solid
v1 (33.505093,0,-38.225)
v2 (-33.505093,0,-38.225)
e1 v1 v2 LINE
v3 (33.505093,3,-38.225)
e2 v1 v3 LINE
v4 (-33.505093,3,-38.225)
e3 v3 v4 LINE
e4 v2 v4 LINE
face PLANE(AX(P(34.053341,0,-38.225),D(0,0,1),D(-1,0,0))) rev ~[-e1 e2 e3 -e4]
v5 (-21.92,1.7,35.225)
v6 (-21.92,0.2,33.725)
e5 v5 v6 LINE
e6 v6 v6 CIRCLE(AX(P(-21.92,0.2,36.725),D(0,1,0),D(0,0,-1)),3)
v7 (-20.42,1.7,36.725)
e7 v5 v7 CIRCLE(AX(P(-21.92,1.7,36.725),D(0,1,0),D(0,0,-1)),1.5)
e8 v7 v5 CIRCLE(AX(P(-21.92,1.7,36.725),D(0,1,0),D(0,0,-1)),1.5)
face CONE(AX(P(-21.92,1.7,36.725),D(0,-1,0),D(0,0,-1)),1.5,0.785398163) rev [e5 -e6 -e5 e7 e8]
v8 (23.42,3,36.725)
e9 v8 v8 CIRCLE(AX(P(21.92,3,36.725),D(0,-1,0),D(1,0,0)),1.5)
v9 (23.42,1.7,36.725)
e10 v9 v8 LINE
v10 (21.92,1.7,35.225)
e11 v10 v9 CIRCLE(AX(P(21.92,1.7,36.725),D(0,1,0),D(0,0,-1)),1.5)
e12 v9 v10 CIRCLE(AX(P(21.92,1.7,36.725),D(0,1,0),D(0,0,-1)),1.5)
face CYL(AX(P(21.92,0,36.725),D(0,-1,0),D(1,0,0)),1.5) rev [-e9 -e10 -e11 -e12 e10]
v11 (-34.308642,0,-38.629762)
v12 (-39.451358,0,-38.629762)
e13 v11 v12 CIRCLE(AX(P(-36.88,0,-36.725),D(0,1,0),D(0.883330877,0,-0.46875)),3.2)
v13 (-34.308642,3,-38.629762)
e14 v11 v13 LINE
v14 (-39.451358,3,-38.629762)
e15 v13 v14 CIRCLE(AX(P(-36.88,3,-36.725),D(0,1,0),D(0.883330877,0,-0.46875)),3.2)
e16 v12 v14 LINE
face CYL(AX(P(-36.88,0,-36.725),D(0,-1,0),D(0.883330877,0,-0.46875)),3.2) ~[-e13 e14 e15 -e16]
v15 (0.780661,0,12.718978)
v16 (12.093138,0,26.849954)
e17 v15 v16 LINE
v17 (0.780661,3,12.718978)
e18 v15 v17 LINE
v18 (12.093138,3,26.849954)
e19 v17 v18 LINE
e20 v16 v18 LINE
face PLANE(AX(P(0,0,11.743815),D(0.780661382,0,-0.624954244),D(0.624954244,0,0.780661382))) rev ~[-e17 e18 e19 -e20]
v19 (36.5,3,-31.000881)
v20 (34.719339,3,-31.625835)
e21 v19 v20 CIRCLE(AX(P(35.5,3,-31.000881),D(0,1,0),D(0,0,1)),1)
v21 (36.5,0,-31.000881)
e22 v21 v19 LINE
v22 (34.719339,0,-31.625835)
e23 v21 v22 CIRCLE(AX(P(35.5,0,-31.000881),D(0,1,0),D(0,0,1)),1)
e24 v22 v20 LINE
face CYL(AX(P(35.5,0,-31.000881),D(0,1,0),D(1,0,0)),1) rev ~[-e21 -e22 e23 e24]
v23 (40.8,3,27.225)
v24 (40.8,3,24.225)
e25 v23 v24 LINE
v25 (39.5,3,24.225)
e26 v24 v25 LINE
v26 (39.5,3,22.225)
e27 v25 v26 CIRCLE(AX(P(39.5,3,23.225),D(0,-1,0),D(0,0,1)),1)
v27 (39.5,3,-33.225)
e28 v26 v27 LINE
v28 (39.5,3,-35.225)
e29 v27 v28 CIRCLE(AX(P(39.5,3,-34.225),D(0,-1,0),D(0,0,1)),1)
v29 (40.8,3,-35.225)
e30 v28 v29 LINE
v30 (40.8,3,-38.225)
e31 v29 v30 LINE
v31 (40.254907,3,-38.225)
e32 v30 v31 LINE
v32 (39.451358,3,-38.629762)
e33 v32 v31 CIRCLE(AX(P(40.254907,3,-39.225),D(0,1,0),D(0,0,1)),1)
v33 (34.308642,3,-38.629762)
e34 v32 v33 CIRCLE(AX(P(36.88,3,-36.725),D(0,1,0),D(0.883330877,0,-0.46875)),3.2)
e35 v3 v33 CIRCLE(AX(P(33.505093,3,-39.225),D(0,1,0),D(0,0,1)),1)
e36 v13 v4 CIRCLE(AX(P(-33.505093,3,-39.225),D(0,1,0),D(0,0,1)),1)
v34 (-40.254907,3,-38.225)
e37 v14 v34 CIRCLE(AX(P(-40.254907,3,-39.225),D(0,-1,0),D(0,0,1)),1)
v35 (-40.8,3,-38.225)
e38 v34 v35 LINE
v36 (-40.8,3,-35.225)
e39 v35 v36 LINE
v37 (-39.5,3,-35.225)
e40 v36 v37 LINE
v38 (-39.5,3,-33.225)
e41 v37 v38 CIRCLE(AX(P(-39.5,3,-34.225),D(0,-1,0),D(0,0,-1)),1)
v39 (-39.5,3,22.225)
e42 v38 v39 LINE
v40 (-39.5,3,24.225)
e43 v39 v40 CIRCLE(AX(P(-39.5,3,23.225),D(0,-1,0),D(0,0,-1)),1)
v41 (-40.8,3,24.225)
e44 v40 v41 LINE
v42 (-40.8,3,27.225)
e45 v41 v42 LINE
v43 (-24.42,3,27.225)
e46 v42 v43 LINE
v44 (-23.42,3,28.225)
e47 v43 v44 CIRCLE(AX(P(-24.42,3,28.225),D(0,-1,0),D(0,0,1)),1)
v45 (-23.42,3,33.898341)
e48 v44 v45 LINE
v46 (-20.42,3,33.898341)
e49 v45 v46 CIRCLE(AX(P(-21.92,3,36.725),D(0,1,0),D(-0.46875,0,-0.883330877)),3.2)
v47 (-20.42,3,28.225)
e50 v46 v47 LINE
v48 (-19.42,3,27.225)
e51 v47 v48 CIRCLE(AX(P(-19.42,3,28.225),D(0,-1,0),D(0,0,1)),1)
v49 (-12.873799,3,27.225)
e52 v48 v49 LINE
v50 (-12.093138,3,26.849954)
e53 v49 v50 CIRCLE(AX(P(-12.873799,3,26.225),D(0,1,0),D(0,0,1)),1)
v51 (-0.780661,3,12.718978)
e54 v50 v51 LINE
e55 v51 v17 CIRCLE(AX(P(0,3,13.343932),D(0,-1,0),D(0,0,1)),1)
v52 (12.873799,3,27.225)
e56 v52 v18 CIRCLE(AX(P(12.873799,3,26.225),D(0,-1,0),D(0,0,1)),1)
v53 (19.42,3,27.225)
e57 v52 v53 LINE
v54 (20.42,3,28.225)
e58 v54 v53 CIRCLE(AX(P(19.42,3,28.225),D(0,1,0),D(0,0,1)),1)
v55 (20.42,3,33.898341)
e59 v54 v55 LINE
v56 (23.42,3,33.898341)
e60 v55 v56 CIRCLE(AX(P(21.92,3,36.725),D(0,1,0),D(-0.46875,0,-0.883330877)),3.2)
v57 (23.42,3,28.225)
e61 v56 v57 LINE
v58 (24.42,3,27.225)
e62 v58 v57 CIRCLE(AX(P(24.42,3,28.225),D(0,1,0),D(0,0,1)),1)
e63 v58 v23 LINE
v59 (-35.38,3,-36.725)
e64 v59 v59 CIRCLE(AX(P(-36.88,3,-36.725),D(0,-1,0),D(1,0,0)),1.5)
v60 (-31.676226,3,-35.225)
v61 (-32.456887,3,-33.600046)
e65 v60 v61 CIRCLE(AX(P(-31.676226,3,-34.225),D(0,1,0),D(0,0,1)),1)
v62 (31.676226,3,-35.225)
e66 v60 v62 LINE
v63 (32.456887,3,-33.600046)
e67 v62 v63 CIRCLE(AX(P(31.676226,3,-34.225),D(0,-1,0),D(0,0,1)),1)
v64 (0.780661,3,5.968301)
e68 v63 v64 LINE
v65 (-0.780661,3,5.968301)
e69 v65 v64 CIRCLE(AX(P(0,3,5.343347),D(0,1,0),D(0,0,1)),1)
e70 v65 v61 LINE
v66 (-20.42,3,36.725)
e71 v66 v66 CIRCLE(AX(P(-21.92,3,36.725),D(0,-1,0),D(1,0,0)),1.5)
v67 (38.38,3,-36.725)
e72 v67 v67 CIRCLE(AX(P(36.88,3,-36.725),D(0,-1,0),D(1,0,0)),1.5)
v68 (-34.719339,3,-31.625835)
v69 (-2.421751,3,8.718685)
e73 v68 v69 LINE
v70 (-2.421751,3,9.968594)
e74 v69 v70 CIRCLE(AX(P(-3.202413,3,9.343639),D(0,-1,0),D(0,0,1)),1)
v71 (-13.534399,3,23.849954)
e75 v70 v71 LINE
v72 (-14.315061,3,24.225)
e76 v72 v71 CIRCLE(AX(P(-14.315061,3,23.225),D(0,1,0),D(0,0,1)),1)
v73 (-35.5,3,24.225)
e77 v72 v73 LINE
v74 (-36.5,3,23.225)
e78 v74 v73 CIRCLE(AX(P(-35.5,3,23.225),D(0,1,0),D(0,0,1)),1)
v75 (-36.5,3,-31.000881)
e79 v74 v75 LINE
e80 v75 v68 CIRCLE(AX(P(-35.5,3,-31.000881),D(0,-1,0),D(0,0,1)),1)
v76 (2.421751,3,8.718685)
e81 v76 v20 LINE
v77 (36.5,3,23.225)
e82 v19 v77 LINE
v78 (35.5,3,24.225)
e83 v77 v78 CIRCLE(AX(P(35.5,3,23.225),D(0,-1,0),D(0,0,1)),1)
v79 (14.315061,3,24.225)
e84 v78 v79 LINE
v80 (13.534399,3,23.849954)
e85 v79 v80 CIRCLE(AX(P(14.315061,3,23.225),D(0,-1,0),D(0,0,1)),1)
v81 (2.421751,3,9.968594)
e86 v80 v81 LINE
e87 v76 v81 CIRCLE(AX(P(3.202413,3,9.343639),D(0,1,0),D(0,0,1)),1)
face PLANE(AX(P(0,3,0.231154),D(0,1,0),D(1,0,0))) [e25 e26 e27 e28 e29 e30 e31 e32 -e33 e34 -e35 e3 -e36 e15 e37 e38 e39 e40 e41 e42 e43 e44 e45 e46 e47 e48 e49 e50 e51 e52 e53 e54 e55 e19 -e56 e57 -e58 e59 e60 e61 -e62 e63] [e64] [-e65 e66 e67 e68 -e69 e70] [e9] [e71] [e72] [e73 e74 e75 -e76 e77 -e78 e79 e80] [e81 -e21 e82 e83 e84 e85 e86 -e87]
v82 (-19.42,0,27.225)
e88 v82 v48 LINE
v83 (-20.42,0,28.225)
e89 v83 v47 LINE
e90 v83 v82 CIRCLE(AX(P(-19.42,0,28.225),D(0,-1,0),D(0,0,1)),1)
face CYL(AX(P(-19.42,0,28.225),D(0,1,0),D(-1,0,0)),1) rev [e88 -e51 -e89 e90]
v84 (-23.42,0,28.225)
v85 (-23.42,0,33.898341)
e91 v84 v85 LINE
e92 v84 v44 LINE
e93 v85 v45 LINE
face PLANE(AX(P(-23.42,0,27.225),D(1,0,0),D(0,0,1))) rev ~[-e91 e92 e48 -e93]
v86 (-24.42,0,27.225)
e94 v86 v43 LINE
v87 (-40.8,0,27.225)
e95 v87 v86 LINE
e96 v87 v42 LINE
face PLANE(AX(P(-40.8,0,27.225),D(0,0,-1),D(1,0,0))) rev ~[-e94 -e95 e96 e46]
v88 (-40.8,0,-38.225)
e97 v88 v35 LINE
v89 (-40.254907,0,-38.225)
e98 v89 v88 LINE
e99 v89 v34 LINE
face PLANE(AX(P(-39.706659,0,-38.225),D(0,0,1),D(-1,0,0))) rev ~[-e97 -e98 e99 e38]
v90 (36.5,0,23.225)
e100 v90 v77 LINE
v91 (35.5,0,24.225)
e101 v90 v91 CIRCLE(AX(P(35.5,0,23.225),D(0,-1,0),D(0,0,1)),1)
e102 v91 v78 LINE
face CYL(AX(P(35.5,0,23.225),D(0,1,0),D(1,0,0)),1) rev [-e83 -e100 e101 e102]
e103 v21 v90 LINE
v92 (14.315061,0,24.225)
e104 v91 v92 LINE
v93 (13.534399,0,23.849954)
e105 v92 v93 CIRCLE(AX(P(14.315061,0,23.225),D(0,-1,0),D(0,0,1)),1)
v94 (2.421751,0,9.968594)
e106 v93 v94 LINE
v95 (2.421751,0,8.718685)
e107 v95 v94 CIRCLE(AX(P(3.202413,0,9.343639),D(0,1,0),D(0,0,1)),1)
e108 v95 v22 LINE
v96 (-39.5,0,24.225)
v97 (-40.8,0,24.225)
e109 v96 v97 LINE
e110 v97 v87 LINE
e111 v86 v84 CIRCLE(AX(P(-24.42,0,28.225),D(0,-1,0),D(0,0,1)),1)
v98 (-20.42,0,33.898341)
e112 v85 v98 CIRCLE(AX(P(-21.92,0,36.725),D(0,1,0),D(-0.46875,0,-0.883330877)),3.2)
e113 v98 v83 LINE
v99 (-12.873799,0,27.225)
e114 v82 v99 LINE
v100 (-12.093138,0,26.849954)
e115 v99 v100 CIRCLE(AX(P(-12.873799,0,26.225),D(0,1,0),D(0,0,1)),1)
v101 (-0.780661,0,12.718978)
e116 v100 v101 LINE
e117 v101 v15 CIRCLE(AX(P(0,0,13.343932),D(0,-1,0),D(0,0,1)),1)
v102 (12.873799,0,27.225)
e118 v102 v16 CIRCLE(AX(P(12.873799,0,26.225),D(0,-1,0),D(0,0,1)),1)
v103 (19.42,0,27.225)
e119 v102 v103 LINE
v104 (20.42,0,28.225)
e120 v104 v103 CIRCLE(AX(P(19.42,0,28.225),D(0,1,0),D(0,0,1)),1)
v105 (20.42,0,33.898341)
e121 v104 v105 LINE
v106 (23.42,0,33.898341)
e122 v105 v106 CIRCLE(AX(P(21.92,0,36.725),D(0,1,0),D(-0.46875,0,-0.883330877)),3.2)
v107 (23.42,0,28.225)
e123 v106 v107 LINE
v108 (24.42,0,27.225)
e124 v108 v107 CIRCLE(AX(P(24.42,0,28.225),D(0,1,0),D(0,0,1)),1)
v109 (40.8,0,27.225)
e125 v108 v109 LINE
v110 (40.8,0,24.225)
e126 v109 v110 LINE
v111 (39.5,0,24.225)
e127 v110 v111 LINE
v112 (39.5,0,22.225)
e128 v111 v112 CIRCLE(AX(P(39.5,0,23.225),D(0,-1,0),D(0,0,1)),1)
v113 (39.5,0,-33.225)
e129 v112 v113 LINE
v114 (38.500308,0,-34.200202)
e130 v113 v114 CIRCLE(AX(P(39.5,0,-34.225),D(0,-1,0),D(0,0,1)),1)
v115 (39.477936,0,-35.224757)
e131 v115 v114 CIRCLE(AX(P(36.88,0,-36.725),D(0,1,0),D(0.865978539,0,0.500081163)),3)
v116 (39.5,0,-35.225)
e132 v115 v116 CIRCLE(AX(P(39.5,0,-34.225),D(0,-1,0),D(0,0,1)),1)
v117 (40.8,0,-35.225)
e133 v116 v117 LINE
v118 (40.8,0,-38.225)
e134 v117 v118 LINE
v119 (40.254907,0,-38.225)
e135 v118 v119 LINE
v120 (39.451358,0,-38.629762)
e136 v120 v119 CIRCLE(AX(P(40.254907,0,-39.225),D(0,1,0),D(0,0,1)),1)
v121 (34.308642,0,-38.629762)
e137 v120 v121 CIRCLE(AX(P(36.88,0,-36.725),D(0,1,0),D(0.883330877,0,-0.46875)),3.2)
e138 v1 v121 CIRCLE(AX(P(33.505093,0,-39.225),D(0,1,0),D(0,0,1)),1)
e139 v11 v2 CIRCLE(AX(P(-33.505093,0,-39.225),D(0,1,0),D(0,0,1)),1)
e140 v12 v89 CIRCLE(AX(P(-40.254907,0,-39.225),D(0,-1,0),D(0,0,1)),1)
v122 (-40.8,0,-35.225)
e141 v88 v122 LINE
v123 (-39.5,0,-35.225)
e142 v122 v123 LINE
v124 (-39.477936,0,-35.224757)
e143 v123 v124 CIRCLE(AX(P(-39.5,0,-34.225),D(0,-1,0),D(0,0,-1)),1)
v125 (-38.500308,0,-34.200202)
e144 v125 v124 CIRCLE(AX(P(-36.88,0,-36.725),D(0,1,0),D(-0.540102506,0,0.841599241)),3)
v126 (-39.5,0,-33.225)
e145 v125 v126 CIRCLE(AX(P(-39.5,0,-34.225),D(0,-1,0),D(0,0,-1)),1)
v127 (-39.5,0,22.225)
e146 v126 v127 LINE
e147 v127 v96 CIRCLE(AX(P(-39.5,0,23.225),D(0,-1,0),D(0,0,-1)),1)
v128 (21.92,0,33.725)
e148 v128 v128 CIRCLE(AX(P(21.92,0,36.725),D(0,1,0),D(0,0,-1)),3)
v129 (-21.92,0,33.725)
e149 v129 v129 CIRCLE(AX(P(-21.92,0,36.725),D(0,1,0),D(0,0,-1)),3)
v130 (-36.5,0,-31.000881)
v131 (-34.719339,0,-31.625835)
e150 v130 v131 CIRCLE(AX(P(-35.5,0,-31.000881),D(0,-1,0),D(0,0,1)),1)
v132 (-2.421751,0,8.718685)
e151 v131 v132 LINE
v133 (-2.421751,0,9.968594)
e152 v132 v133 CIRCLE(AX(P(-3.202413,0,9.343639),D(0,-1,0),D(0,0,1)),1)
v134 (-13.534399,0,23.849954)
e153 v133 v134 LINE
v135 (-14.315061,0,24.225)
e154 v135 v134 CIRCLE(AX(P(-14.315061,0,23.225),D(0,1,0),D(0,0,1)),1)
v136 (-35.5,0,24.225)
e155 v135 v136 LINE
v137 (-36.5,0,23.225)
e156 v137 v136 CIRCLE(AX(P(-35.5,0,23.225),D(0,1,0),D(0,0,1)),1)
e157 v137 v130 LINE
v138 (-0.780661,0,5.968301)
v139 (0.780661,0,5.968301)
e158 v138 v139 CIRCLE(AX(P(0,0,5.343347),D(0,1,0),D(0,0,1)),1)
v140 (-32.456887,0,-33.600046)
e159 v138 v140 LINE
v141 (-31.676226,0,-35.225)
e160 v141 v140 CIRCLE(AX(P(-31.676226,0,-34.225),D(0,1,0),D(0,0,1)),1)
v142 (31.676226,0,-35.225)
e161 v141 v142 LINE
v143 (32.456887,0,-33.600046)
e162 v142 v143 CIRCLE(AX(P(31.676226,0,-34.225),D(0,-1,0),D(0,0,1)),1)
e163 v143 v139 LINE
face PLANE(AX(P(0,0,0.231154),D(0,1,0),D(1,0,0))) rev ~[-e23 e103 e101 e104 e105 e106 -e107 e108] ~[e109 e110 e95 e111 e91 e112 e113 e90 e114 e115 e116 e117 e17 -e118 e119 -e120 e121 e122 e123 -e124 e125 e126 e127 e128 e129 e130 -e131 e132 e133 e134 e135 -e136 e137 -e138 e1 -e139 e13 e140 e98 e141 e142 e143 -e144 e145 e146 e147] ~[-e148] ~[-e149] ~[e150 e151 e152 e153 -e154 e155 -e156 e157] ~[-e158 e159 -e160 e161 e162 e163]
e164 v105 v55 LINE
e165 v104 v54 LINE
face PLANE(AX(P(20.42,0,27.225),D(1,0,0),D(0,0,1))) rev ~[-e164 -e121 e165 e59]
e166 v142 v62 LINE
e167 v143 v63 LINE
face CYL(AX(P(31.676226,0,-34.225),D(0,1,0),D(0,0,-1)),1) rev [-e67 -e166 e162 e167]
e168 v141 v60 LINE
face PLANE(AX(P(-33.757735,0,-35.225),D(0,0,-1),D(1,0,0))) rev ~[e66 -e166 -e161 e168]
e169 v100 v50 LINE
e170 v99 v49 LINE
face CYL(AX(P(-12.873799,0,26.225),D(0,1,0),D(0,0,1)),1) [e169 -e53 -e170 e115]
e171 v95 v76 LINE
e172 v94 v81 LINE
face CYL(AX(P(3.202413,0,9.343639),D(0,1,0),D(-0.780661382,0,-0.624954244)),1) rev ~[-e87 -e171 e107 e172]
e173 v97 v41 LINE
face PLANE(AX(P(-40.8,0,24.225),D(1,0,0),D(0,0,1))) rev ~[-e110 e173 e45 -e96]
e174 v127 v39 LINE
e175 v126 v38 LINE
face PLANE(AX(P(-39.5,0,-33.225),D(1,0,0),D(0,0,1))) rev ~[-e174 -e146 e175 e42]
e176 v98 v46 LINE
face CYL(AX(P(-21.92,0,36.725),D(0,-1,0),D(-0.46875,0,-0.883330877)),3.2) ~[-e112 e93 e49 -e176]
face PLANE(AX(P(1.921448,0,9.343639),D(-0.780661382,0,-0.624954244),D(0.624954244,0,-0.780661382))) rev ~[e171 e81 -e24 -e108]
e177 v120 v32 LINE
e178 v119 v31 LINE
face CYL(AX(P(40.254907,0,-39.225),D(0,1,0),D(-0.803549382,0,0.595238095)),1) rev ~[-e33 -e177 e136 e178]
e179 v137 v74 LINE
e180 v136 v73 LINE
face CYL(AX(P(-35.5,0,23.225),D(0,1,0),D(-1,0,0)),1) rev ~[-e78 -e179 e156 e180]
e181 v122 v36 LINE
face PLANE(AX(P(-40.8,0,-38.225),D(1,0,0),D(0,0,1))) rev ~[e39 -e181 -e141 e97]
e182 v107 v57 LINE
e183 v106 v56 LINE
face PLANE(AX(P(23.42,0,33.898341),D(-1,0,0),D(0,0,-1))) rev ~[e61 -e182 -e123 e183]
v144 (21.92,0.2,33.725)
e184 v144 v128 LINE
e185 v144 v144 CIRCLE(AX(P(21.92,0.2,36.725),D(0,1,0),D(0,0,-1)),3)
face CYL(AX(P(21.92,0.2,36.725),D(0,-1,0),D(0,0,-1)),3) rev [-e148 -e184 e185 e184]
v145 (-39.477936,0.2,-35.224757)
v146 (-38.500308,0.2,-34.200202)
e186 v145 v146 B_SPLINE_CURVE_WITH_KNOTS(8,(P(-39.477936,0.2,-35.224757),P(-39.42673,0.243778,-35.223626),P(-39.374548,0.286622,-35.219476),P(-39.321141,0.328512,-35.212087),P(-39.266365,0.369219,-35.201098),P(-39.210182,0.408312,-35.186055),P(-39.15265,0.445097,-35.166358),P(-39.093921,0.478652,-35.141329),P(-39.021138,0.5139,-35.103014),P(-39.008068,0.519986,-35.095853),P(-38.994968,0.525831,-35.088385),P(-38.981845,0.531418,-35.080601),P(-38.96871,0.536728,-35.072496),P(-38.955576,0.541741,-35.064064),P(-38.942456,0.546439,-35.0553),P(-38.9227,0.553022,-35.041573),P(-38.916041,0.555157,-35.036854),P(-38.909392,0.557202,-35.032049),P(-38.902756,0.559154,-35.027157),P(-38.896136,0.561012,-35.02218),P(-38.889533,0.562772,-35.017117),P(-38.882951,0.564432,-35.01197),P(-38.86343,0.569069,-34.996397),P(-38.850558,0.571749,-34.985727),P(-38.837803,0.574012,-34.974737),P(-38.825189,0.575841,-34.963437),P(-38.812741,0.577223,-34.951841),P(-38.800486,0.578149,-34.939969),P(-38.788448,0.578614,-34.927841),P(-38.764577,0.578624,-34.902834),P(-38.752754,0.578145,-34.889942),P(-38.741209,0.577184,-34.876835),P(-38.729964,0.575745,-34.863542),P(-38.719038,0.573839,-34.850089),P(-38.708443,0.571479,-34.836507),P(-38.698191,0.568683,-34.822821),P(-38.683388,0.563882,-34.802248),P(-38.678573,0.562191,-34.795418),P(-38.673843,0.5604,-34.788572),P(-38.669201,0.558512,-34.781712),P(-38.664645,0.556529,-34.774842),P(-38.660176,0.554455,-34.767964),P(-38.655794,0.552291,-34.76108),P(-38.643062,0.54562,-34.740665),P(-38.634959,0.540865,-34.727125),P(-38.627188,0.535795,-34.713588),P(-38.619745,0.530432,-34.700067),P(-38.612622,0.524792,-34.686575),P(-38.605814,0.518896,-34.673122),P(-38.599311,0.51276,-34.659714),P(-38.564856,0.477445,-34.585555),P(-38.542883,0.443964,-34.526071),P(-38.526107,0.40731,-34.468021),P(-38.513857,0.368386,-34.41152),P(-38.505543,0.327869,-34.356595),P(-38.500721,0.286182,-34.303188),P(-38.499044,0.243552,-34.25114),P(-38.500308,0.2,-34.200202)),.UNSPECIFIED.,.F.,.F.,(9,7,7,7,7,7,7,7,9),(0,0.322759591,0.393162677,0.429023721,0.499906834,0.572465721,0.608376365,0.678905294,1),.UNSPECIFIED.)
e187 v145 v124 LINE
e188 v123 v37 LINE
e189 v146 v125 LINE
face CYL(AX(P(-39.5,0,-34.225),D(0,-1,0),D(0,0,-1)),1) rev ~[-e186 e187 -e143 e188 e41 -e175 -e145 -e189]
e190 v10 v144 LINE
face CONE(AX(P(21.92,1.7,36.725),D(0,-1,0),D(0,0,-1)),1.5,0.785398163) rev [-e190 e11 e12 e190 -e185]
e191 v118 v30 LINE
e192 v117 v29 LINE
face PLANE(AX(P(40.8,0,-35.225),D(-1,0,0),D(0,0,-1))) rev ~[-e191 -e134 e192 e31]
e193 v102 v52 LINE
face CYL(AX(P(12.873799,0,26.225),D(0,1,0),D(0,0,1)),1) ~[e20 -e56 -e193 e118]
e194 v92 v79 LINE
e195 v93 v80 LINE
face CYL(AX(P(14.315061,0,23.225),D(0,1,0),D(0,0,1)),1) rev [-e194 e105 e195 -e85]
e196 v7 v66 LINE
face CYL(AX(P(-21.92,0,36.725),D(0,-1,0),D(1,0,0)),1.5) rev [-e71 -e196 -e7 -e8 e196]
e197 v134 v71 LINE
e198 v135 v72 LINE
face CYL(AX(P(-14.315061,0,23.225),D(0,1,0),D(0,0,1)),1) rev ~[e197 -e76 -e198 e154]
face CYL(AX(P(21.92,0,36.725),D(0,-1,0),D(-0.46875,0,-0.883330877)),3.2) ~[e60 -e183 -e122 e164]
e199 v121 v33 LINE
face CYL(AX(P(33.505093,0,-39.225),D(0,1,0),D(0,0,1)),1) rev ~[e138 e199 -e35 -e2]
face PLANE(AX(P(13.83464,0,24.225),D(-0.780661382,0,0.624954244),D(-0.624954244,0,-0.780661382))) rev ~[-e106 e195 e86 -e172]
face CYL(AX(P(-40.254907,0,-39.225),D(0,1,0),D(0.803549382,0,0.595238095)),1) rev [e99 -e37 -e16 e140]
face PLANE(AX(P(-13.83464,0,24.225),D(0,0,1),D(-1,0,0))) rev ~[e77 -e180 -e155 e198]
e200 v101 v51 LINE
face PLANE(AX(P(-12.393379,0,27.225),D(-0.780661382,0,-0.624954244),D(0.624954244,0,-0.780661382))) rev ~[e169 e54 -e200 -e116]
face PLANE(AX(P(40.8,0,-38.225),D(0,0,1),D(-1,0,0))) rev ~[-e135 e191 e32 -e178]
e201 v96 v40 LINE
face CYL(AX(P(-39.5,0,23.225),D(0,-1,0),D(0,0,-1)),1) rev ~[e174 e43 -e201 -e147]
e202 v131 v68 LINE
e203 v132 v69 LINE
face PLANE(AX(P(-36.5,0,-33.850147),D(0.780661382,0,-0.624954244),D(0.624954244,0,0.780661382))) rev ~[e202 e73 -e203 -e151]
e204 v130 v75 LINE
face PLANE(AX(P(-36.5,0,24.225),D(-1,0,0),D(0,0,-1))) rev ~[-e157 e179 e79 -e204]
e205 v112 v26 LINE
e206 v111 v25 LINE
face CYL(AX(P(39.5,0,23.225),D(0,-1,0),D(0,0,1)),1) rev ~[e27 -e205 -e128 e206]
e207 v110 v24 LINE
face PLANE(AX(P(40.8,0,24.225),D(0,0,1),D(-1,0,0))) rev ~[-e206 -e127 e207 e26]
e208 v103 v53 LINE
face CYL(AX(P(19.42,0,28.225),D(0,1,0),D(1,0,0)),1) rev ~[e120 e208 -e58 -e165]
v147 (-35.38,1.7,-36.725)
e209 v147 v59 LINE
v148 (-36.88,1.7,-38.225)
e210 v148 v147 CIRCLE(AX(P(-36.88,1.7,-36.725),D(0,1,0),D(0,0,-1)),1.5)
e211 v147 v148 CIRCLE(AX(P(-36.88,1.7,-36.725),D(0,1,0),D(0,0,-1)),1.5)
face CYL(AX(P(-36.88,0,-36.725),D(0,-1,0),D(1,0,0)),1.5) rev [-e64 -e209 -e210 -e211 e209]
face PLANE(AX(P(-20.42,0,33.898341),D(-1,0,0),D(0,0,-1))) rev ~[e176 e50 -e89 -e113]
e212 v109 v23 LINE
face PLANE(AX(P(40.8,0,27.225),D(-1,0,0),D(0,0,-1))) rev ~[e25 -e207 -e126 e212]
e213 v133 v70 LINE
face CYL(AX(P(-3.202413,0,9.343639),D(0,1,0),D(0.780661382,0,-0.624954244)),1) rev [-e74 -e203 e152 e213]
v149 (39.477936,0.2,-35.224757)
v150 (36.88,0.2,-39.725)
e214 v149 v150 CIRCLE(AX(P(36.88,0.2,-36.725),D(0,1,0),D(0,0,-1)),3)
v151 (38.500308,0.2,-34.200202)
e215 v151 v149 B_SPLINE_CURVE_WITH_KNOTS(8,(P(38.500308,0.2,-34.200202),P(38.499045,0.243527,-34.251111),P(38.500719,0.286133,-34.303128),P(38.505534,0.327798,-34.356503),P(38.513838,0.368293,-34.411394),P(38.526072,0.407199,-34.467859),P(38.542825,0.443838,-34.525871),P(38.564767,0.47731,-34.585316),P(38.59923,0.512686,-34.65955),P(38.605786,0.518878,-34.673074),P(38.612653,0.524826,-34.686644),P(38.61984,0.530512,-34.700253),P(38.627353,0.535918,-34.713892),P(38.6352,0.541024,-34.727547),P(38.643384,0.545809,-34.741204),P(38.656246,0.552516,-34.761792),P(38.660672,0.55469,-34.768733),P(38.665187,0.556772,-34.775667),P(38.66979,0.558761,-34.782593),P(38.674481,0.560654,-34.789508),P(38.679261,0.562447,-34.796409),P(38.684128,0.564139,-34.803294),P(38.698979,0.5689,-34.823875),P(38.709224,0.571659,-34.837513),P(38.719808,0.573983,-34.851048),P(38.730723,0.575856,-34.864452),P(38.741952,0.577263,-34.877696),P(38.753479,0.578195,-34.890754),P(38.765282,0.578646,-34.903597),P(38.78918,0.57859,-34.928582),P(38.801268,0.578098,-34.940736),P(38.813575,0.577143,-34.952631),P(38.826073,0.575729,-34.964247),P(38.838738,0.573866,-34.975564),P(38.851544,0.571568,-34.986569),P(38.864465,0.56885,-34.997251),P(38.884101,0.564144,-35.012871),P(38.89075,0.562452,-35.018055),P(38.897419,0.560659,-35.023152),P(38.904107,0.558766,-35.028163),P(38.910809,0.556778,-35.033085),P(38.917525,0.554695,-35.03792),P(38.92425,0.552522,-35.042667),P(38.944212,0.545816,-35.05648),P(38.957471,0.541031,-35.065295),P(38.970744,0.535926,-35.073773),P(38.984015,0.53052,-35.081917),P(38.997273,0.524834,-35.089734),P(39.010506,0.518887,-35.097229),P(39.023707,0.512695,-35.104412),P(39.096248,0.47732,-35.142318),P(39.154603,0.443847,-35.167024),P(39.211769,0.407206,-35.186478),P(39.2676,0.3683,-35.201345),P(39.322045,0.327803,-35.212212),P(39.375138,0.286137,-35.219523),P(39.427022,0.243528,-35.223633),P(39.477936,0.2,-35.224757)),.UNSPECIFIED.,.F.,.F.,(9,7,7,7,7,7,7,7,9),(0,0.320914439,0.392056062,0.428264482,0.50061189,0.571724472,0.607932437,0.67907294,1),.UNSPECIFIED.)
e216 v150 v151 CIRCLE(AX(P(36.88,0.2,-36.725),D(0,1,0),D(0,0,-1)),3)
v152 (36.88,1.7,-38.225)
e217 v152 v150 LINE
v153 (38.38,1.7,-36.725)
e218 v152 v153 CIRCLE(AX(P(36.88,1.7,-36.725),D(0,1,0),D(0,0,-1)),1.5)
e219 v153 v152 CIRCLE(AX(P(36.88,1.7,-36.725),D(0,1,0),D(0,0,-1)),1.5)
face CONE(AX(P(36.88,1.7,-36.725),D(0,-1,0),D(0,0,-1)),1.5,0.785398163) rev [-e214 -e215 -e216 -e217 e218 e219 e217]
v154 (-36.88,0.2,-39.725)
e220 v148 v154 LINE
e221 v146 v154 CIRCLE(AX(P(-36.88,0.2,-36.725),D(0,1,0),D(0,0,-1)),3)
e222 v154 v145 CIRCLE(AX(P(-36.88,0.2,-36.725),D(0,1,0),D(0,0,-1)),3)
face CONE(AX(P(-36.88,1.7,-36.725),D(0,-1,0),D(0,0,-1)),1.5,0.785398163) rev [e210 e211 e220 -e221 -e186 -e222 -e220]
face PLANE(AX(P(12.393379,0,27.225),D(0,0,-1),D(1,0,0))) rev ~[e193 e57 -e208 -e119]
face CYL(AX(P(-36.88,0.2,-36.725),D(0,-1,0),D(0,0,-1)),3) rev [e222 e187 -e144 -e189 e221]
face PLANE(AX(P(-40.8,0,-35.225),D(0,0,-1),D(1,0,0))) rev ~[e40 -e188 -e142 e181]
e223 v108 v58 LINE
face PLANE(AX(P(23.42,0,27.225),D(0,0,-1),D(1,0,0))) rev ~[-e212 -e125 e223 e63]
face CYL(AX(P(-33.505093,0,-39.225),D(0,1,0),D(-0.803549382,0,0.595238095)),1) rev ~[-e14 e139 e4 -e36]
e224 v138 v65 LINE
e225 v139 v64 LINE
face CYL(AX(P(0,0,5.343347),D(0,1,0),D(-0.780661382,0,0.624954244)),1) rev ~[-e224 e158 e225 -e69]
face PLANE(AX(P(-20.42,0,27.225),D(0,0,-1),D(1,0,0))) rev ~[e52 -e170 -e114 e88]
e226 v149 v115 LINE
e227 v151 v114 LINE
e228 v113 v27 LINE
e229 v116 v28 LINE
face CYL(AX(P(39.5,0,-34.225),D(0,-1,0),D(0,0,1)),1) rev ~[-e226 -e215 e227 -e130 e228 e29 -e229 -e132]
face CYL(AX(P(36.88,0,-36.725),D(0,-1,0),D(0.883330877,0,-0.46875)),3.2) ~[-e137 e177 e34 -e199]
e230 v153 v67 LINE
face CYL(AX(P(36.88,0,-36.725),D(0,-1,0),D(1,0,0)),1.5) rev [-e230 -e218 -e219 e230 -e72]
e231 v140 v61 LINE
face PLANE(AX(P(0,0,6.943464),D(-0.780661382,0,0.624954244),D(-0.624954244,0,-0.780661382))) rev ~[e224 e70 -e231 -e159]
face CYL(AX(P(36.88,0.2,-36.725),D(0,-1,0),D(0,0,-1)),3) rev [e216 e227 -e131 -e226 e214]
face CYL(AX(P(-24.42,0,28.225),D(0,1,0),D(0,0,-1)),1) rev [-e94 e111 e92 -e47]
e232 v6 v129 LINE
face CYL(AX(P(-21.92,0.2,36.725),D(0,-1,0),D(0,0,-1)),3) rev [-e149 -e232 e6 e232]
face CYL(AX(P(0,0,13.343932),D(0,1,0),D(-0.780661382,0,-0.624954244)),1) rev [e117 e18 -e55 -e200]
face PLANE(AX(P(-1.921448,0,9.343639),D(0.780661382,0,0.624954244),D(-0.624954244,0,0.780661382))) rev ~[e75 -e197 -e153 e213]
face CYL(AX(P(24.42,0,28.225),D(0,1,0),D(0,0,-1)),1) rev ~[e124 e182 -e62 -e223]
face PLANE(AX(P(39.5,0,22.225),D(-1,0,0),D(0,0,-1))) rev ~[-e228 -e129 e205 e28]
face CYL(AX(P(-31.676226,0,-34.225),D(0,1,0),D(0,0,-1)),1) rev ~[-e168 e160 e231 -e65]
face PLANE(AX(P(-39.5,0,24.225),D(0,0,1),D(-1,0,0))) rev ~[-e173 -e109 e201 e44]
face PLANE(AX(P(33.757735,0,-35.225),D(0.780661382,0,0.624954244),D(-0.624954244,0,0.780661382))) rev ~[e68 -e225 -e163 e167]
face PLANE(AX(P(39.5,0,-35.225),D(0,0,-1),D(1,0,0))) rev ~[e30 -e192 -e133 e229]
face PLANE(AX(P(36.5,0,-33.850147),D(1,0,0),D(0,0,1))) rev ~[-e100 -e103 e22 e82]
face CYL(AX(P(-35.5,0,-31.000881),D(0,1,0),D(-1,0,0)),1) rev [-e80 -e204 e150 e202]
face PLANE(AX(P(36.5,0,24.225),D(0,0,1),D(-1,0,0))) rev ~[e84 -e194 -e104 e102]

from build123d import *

# Parameters (mm, degrees)
SKETCH1_R                  = 1.5
SHAPE_DEPTH                = 3
MILL_FILLETS_R             = 1
M3_COUNTERSUNKS_AT_2_COUNT = 2
M3_COUNTERSUNKS_AT_2_PITCH = 43.84
M3_COUNTERSUNKS_AT_3_COUNT = 2
M3_COUNTERSUNKS_AT_3_PITCH = 94.086888034
M3_COUNTERSUNKS_AT_4_COUNT = 2
M3_COUNTERSUNKS_AT_4_PITCH = 74.958015582


with BuildPart() as part:
    # Sketch1 → Shape (new body)
    with BuildSketch(Plane(origin=(0, 0, 0), x_dir=(1, 0, 0), z_dir=(0, 1, 0))):
        with BuildLine():
            ThreePointArc((-34.053341195, 38.225), (-36.88, 39.925), (-39.706658805, 38.225))
            Line((-39.706658805, 38.225), (-40.8, 38.225))
            Line((-40.8, 38.225), (-40.8, 35.225))
            Line((-40.8, 35.225), (-39.5, 35.225))
            ThreePointArc((-39.5, 35.225), (-38.5, 34.225), (-39.5, 33.225))
            Line((-39.5, 33.225), (-39.5, -22.225))
            ThreePointArc((-39.5, -22.225), (-38.5, -23.225), (-39.5, -24.225))
            Line((-39.5, -24.225), (-40.8, -24.225))
            Line((-40.8, -24.225), (-40.8, -27.225))
            Line((-40.8, -27.225), (-23.42, -27.225))
            Line((-23.42, -27.225), (-23.42, -33.898341195))
            ThreePointArc((-23.42, -33.898341195), (-21.92, -39.925), (-20.42, -33.898341195))
            Line((-20.42, -33.898341195), (-20.42, -27.225))
            Line((-20.42, -27.225), (-12.393378733, -27.225))
            Line((-12.393378733, -27.225), (0, -11.743815171))
            Line((0, -11.743815171), (12.393378733, -27.225))
            Line((12.393378733, -27.225), (20.42, -27.225))
            Line((20.42, -27.225), (20.42, -33.898341195))
            ThreePointArc((20.42, -33.898341195), (21.92, -39.925), (23.42, -33.898341195))
            Line((23.42, -33.898341195), (23.42, -27.225))
            Line((23.42, -27.225), (40.8, -27.225))
            Line((40.8, -27.225), (40.8, -24.225))
            Line((40.8, -24.225), (39.5, -24.225))
            ThreePointArc((39.5, -24.225), (38.5, -23.225), (39.5, -22.225))
            Line((39.5, -22.225), (39.5, 33.225))
            ThreePointArc((39.5, 33.225), (38.5, 34.225), (39.5, 35.225))
            Line((39.5, 35.225), (40.8, 35.225))
            Line((40.8, 35.225), (40.8, 38.225))
            Line((40.8, 38.225), (39.706658805, 38.225))
            ThreePointArc((39.706658805, 38.225), (36.88, 39.925), (34.053341195, 38.225))
            Line((34.053341195, 38.225), (-34.053341195, 38.225))
        make_face()
        with Locations((36.88, 36.725)):
            Circle(SKETCH1_R, mode=Mode.SUBTRACT)
        Polygon((36.5, -24.225), (13.834640327, -24.225), (1.921447679, -9.343639456), (36.5, 33.850147414), align=None, mode=Mode.SUBTRACT)
        with Locations((-21.92, -36.725)):
            Circle(SKETCH1_R, mode=Mode.SUBTRACT)
        Polygon((-36.5, 33.850147414), (-1.921447679, -9.343639456), (-13.834640327, -24.225), (-36.5, -24.225), align=None, mode=Mode.SUBTRACT)
        with Locations((-36.88, 36.725)):
            Circle(SKETCH1_R, mode=Mode.SUBTRACT)
        Polygon((33.757735438, 35.225), (0, -6.943463741), (-33.757735438, 35.225), align=None, mode=Mode.SUBTRACT)
        with Locations((21.92, -36.725)):
            Circle(SKETCH1_R, mode=Mode.SUBTRACT)
    extrude(amount=SHAPE_DEPTH)

    # Mill fillets
    mill_fillets_edges = [part.edges().sort_by_distance(p)[0] for p in [
        (33.757735438, 1.5, -35.225),
        (-33.757735438, 1.5, -35.225),
        (0, 1.5, 6.943463741),
        (-36.5, 1.5, -33.850147414),
        (-36.5, 1.5, 24.225),
        (-13.834640327, 1.5, 24.225),
        (-1.921447679, 1.5, 9.343639456),
        (36.5, 1.5, -33.850147414),
        (1.921447679, 1.5, 9.343639456),
        (13.834640327, 1.5, 24.225),
        (36.5, 1.5, 24.225),
        (20.42, 1.5, 27.225),
        (12.393378733, 1.5, 27.225),
        (0, 1.5, 11.743815171),
        (-12.393378733, 1.5, 27.225),
        (-20.42, 1.5, 27.225),
        (-23.42, 1.5, 27.225),
        (-39.706658805, 1.5, -38.225),
        (-34.053341195, 1.5, -38.225),
        (34.053341195, 1.5, -38.225),
        (39.706658805, 1.5, -38.225),
        (23.42, 1.5, 27.225),
    ]]
    fillet(mill_fillets_edges, radius=MILL_FILLETS_R)

    # Sketch3 → M3 countersunks (revolve, cut)
    with BuildSketch(Plane(origin=(-21.92, 0, 36.725), x_dir=(0, 0, -1), z_dir=(1, 0, 0))):
        Polygon((0, 0), (0, 3), (1.5, 3), (1.5, 1.7), (3, 0.2), (3, 0), align=None)
    m3_countersunks = revolve(axis=Axis((-21.92, -6.35, 36.725), (0, 1, 0)), mode=Mode.SUBTRACT)

    # M3 countersunks at 2: M3 countersunks ×2
    with Locations(*[(i * M3_COUNTERSUNKS_AT_2_PITCH, 0, 0) for i in range(1, M3_COUNTERSUNKS_AT_2_COUNT)]):
        add(m3_countersunks, mode=Mode.SUBTRACT)

    # M3 countersunks at 3: M3 countersunks ×2
    with Locations(*[Vector(0.624954244, 0, -0.780661382) * (i * M3_COUNTERSUNKS_AT_3_PITCH) for i in range(1, M3_COUNTERSUNKS_AT_3_COUNT)]):
        add(m3_countersunks, mode=Mode.SUBTRACT)

    # M3 countersunks at 4: M3 countersunks ×2
    with Locations(*[Vector(-0.199578389, 0, -0.979881864) * (i * M3_COUNTERSUNKS_AT_4_PITCH) for i in range(1, M3_COUNTERSUNKS_AT_4_COUNT)]):
        add(m3_countersunks, mode=Mode.SUBTRACT)


solid = part.part
